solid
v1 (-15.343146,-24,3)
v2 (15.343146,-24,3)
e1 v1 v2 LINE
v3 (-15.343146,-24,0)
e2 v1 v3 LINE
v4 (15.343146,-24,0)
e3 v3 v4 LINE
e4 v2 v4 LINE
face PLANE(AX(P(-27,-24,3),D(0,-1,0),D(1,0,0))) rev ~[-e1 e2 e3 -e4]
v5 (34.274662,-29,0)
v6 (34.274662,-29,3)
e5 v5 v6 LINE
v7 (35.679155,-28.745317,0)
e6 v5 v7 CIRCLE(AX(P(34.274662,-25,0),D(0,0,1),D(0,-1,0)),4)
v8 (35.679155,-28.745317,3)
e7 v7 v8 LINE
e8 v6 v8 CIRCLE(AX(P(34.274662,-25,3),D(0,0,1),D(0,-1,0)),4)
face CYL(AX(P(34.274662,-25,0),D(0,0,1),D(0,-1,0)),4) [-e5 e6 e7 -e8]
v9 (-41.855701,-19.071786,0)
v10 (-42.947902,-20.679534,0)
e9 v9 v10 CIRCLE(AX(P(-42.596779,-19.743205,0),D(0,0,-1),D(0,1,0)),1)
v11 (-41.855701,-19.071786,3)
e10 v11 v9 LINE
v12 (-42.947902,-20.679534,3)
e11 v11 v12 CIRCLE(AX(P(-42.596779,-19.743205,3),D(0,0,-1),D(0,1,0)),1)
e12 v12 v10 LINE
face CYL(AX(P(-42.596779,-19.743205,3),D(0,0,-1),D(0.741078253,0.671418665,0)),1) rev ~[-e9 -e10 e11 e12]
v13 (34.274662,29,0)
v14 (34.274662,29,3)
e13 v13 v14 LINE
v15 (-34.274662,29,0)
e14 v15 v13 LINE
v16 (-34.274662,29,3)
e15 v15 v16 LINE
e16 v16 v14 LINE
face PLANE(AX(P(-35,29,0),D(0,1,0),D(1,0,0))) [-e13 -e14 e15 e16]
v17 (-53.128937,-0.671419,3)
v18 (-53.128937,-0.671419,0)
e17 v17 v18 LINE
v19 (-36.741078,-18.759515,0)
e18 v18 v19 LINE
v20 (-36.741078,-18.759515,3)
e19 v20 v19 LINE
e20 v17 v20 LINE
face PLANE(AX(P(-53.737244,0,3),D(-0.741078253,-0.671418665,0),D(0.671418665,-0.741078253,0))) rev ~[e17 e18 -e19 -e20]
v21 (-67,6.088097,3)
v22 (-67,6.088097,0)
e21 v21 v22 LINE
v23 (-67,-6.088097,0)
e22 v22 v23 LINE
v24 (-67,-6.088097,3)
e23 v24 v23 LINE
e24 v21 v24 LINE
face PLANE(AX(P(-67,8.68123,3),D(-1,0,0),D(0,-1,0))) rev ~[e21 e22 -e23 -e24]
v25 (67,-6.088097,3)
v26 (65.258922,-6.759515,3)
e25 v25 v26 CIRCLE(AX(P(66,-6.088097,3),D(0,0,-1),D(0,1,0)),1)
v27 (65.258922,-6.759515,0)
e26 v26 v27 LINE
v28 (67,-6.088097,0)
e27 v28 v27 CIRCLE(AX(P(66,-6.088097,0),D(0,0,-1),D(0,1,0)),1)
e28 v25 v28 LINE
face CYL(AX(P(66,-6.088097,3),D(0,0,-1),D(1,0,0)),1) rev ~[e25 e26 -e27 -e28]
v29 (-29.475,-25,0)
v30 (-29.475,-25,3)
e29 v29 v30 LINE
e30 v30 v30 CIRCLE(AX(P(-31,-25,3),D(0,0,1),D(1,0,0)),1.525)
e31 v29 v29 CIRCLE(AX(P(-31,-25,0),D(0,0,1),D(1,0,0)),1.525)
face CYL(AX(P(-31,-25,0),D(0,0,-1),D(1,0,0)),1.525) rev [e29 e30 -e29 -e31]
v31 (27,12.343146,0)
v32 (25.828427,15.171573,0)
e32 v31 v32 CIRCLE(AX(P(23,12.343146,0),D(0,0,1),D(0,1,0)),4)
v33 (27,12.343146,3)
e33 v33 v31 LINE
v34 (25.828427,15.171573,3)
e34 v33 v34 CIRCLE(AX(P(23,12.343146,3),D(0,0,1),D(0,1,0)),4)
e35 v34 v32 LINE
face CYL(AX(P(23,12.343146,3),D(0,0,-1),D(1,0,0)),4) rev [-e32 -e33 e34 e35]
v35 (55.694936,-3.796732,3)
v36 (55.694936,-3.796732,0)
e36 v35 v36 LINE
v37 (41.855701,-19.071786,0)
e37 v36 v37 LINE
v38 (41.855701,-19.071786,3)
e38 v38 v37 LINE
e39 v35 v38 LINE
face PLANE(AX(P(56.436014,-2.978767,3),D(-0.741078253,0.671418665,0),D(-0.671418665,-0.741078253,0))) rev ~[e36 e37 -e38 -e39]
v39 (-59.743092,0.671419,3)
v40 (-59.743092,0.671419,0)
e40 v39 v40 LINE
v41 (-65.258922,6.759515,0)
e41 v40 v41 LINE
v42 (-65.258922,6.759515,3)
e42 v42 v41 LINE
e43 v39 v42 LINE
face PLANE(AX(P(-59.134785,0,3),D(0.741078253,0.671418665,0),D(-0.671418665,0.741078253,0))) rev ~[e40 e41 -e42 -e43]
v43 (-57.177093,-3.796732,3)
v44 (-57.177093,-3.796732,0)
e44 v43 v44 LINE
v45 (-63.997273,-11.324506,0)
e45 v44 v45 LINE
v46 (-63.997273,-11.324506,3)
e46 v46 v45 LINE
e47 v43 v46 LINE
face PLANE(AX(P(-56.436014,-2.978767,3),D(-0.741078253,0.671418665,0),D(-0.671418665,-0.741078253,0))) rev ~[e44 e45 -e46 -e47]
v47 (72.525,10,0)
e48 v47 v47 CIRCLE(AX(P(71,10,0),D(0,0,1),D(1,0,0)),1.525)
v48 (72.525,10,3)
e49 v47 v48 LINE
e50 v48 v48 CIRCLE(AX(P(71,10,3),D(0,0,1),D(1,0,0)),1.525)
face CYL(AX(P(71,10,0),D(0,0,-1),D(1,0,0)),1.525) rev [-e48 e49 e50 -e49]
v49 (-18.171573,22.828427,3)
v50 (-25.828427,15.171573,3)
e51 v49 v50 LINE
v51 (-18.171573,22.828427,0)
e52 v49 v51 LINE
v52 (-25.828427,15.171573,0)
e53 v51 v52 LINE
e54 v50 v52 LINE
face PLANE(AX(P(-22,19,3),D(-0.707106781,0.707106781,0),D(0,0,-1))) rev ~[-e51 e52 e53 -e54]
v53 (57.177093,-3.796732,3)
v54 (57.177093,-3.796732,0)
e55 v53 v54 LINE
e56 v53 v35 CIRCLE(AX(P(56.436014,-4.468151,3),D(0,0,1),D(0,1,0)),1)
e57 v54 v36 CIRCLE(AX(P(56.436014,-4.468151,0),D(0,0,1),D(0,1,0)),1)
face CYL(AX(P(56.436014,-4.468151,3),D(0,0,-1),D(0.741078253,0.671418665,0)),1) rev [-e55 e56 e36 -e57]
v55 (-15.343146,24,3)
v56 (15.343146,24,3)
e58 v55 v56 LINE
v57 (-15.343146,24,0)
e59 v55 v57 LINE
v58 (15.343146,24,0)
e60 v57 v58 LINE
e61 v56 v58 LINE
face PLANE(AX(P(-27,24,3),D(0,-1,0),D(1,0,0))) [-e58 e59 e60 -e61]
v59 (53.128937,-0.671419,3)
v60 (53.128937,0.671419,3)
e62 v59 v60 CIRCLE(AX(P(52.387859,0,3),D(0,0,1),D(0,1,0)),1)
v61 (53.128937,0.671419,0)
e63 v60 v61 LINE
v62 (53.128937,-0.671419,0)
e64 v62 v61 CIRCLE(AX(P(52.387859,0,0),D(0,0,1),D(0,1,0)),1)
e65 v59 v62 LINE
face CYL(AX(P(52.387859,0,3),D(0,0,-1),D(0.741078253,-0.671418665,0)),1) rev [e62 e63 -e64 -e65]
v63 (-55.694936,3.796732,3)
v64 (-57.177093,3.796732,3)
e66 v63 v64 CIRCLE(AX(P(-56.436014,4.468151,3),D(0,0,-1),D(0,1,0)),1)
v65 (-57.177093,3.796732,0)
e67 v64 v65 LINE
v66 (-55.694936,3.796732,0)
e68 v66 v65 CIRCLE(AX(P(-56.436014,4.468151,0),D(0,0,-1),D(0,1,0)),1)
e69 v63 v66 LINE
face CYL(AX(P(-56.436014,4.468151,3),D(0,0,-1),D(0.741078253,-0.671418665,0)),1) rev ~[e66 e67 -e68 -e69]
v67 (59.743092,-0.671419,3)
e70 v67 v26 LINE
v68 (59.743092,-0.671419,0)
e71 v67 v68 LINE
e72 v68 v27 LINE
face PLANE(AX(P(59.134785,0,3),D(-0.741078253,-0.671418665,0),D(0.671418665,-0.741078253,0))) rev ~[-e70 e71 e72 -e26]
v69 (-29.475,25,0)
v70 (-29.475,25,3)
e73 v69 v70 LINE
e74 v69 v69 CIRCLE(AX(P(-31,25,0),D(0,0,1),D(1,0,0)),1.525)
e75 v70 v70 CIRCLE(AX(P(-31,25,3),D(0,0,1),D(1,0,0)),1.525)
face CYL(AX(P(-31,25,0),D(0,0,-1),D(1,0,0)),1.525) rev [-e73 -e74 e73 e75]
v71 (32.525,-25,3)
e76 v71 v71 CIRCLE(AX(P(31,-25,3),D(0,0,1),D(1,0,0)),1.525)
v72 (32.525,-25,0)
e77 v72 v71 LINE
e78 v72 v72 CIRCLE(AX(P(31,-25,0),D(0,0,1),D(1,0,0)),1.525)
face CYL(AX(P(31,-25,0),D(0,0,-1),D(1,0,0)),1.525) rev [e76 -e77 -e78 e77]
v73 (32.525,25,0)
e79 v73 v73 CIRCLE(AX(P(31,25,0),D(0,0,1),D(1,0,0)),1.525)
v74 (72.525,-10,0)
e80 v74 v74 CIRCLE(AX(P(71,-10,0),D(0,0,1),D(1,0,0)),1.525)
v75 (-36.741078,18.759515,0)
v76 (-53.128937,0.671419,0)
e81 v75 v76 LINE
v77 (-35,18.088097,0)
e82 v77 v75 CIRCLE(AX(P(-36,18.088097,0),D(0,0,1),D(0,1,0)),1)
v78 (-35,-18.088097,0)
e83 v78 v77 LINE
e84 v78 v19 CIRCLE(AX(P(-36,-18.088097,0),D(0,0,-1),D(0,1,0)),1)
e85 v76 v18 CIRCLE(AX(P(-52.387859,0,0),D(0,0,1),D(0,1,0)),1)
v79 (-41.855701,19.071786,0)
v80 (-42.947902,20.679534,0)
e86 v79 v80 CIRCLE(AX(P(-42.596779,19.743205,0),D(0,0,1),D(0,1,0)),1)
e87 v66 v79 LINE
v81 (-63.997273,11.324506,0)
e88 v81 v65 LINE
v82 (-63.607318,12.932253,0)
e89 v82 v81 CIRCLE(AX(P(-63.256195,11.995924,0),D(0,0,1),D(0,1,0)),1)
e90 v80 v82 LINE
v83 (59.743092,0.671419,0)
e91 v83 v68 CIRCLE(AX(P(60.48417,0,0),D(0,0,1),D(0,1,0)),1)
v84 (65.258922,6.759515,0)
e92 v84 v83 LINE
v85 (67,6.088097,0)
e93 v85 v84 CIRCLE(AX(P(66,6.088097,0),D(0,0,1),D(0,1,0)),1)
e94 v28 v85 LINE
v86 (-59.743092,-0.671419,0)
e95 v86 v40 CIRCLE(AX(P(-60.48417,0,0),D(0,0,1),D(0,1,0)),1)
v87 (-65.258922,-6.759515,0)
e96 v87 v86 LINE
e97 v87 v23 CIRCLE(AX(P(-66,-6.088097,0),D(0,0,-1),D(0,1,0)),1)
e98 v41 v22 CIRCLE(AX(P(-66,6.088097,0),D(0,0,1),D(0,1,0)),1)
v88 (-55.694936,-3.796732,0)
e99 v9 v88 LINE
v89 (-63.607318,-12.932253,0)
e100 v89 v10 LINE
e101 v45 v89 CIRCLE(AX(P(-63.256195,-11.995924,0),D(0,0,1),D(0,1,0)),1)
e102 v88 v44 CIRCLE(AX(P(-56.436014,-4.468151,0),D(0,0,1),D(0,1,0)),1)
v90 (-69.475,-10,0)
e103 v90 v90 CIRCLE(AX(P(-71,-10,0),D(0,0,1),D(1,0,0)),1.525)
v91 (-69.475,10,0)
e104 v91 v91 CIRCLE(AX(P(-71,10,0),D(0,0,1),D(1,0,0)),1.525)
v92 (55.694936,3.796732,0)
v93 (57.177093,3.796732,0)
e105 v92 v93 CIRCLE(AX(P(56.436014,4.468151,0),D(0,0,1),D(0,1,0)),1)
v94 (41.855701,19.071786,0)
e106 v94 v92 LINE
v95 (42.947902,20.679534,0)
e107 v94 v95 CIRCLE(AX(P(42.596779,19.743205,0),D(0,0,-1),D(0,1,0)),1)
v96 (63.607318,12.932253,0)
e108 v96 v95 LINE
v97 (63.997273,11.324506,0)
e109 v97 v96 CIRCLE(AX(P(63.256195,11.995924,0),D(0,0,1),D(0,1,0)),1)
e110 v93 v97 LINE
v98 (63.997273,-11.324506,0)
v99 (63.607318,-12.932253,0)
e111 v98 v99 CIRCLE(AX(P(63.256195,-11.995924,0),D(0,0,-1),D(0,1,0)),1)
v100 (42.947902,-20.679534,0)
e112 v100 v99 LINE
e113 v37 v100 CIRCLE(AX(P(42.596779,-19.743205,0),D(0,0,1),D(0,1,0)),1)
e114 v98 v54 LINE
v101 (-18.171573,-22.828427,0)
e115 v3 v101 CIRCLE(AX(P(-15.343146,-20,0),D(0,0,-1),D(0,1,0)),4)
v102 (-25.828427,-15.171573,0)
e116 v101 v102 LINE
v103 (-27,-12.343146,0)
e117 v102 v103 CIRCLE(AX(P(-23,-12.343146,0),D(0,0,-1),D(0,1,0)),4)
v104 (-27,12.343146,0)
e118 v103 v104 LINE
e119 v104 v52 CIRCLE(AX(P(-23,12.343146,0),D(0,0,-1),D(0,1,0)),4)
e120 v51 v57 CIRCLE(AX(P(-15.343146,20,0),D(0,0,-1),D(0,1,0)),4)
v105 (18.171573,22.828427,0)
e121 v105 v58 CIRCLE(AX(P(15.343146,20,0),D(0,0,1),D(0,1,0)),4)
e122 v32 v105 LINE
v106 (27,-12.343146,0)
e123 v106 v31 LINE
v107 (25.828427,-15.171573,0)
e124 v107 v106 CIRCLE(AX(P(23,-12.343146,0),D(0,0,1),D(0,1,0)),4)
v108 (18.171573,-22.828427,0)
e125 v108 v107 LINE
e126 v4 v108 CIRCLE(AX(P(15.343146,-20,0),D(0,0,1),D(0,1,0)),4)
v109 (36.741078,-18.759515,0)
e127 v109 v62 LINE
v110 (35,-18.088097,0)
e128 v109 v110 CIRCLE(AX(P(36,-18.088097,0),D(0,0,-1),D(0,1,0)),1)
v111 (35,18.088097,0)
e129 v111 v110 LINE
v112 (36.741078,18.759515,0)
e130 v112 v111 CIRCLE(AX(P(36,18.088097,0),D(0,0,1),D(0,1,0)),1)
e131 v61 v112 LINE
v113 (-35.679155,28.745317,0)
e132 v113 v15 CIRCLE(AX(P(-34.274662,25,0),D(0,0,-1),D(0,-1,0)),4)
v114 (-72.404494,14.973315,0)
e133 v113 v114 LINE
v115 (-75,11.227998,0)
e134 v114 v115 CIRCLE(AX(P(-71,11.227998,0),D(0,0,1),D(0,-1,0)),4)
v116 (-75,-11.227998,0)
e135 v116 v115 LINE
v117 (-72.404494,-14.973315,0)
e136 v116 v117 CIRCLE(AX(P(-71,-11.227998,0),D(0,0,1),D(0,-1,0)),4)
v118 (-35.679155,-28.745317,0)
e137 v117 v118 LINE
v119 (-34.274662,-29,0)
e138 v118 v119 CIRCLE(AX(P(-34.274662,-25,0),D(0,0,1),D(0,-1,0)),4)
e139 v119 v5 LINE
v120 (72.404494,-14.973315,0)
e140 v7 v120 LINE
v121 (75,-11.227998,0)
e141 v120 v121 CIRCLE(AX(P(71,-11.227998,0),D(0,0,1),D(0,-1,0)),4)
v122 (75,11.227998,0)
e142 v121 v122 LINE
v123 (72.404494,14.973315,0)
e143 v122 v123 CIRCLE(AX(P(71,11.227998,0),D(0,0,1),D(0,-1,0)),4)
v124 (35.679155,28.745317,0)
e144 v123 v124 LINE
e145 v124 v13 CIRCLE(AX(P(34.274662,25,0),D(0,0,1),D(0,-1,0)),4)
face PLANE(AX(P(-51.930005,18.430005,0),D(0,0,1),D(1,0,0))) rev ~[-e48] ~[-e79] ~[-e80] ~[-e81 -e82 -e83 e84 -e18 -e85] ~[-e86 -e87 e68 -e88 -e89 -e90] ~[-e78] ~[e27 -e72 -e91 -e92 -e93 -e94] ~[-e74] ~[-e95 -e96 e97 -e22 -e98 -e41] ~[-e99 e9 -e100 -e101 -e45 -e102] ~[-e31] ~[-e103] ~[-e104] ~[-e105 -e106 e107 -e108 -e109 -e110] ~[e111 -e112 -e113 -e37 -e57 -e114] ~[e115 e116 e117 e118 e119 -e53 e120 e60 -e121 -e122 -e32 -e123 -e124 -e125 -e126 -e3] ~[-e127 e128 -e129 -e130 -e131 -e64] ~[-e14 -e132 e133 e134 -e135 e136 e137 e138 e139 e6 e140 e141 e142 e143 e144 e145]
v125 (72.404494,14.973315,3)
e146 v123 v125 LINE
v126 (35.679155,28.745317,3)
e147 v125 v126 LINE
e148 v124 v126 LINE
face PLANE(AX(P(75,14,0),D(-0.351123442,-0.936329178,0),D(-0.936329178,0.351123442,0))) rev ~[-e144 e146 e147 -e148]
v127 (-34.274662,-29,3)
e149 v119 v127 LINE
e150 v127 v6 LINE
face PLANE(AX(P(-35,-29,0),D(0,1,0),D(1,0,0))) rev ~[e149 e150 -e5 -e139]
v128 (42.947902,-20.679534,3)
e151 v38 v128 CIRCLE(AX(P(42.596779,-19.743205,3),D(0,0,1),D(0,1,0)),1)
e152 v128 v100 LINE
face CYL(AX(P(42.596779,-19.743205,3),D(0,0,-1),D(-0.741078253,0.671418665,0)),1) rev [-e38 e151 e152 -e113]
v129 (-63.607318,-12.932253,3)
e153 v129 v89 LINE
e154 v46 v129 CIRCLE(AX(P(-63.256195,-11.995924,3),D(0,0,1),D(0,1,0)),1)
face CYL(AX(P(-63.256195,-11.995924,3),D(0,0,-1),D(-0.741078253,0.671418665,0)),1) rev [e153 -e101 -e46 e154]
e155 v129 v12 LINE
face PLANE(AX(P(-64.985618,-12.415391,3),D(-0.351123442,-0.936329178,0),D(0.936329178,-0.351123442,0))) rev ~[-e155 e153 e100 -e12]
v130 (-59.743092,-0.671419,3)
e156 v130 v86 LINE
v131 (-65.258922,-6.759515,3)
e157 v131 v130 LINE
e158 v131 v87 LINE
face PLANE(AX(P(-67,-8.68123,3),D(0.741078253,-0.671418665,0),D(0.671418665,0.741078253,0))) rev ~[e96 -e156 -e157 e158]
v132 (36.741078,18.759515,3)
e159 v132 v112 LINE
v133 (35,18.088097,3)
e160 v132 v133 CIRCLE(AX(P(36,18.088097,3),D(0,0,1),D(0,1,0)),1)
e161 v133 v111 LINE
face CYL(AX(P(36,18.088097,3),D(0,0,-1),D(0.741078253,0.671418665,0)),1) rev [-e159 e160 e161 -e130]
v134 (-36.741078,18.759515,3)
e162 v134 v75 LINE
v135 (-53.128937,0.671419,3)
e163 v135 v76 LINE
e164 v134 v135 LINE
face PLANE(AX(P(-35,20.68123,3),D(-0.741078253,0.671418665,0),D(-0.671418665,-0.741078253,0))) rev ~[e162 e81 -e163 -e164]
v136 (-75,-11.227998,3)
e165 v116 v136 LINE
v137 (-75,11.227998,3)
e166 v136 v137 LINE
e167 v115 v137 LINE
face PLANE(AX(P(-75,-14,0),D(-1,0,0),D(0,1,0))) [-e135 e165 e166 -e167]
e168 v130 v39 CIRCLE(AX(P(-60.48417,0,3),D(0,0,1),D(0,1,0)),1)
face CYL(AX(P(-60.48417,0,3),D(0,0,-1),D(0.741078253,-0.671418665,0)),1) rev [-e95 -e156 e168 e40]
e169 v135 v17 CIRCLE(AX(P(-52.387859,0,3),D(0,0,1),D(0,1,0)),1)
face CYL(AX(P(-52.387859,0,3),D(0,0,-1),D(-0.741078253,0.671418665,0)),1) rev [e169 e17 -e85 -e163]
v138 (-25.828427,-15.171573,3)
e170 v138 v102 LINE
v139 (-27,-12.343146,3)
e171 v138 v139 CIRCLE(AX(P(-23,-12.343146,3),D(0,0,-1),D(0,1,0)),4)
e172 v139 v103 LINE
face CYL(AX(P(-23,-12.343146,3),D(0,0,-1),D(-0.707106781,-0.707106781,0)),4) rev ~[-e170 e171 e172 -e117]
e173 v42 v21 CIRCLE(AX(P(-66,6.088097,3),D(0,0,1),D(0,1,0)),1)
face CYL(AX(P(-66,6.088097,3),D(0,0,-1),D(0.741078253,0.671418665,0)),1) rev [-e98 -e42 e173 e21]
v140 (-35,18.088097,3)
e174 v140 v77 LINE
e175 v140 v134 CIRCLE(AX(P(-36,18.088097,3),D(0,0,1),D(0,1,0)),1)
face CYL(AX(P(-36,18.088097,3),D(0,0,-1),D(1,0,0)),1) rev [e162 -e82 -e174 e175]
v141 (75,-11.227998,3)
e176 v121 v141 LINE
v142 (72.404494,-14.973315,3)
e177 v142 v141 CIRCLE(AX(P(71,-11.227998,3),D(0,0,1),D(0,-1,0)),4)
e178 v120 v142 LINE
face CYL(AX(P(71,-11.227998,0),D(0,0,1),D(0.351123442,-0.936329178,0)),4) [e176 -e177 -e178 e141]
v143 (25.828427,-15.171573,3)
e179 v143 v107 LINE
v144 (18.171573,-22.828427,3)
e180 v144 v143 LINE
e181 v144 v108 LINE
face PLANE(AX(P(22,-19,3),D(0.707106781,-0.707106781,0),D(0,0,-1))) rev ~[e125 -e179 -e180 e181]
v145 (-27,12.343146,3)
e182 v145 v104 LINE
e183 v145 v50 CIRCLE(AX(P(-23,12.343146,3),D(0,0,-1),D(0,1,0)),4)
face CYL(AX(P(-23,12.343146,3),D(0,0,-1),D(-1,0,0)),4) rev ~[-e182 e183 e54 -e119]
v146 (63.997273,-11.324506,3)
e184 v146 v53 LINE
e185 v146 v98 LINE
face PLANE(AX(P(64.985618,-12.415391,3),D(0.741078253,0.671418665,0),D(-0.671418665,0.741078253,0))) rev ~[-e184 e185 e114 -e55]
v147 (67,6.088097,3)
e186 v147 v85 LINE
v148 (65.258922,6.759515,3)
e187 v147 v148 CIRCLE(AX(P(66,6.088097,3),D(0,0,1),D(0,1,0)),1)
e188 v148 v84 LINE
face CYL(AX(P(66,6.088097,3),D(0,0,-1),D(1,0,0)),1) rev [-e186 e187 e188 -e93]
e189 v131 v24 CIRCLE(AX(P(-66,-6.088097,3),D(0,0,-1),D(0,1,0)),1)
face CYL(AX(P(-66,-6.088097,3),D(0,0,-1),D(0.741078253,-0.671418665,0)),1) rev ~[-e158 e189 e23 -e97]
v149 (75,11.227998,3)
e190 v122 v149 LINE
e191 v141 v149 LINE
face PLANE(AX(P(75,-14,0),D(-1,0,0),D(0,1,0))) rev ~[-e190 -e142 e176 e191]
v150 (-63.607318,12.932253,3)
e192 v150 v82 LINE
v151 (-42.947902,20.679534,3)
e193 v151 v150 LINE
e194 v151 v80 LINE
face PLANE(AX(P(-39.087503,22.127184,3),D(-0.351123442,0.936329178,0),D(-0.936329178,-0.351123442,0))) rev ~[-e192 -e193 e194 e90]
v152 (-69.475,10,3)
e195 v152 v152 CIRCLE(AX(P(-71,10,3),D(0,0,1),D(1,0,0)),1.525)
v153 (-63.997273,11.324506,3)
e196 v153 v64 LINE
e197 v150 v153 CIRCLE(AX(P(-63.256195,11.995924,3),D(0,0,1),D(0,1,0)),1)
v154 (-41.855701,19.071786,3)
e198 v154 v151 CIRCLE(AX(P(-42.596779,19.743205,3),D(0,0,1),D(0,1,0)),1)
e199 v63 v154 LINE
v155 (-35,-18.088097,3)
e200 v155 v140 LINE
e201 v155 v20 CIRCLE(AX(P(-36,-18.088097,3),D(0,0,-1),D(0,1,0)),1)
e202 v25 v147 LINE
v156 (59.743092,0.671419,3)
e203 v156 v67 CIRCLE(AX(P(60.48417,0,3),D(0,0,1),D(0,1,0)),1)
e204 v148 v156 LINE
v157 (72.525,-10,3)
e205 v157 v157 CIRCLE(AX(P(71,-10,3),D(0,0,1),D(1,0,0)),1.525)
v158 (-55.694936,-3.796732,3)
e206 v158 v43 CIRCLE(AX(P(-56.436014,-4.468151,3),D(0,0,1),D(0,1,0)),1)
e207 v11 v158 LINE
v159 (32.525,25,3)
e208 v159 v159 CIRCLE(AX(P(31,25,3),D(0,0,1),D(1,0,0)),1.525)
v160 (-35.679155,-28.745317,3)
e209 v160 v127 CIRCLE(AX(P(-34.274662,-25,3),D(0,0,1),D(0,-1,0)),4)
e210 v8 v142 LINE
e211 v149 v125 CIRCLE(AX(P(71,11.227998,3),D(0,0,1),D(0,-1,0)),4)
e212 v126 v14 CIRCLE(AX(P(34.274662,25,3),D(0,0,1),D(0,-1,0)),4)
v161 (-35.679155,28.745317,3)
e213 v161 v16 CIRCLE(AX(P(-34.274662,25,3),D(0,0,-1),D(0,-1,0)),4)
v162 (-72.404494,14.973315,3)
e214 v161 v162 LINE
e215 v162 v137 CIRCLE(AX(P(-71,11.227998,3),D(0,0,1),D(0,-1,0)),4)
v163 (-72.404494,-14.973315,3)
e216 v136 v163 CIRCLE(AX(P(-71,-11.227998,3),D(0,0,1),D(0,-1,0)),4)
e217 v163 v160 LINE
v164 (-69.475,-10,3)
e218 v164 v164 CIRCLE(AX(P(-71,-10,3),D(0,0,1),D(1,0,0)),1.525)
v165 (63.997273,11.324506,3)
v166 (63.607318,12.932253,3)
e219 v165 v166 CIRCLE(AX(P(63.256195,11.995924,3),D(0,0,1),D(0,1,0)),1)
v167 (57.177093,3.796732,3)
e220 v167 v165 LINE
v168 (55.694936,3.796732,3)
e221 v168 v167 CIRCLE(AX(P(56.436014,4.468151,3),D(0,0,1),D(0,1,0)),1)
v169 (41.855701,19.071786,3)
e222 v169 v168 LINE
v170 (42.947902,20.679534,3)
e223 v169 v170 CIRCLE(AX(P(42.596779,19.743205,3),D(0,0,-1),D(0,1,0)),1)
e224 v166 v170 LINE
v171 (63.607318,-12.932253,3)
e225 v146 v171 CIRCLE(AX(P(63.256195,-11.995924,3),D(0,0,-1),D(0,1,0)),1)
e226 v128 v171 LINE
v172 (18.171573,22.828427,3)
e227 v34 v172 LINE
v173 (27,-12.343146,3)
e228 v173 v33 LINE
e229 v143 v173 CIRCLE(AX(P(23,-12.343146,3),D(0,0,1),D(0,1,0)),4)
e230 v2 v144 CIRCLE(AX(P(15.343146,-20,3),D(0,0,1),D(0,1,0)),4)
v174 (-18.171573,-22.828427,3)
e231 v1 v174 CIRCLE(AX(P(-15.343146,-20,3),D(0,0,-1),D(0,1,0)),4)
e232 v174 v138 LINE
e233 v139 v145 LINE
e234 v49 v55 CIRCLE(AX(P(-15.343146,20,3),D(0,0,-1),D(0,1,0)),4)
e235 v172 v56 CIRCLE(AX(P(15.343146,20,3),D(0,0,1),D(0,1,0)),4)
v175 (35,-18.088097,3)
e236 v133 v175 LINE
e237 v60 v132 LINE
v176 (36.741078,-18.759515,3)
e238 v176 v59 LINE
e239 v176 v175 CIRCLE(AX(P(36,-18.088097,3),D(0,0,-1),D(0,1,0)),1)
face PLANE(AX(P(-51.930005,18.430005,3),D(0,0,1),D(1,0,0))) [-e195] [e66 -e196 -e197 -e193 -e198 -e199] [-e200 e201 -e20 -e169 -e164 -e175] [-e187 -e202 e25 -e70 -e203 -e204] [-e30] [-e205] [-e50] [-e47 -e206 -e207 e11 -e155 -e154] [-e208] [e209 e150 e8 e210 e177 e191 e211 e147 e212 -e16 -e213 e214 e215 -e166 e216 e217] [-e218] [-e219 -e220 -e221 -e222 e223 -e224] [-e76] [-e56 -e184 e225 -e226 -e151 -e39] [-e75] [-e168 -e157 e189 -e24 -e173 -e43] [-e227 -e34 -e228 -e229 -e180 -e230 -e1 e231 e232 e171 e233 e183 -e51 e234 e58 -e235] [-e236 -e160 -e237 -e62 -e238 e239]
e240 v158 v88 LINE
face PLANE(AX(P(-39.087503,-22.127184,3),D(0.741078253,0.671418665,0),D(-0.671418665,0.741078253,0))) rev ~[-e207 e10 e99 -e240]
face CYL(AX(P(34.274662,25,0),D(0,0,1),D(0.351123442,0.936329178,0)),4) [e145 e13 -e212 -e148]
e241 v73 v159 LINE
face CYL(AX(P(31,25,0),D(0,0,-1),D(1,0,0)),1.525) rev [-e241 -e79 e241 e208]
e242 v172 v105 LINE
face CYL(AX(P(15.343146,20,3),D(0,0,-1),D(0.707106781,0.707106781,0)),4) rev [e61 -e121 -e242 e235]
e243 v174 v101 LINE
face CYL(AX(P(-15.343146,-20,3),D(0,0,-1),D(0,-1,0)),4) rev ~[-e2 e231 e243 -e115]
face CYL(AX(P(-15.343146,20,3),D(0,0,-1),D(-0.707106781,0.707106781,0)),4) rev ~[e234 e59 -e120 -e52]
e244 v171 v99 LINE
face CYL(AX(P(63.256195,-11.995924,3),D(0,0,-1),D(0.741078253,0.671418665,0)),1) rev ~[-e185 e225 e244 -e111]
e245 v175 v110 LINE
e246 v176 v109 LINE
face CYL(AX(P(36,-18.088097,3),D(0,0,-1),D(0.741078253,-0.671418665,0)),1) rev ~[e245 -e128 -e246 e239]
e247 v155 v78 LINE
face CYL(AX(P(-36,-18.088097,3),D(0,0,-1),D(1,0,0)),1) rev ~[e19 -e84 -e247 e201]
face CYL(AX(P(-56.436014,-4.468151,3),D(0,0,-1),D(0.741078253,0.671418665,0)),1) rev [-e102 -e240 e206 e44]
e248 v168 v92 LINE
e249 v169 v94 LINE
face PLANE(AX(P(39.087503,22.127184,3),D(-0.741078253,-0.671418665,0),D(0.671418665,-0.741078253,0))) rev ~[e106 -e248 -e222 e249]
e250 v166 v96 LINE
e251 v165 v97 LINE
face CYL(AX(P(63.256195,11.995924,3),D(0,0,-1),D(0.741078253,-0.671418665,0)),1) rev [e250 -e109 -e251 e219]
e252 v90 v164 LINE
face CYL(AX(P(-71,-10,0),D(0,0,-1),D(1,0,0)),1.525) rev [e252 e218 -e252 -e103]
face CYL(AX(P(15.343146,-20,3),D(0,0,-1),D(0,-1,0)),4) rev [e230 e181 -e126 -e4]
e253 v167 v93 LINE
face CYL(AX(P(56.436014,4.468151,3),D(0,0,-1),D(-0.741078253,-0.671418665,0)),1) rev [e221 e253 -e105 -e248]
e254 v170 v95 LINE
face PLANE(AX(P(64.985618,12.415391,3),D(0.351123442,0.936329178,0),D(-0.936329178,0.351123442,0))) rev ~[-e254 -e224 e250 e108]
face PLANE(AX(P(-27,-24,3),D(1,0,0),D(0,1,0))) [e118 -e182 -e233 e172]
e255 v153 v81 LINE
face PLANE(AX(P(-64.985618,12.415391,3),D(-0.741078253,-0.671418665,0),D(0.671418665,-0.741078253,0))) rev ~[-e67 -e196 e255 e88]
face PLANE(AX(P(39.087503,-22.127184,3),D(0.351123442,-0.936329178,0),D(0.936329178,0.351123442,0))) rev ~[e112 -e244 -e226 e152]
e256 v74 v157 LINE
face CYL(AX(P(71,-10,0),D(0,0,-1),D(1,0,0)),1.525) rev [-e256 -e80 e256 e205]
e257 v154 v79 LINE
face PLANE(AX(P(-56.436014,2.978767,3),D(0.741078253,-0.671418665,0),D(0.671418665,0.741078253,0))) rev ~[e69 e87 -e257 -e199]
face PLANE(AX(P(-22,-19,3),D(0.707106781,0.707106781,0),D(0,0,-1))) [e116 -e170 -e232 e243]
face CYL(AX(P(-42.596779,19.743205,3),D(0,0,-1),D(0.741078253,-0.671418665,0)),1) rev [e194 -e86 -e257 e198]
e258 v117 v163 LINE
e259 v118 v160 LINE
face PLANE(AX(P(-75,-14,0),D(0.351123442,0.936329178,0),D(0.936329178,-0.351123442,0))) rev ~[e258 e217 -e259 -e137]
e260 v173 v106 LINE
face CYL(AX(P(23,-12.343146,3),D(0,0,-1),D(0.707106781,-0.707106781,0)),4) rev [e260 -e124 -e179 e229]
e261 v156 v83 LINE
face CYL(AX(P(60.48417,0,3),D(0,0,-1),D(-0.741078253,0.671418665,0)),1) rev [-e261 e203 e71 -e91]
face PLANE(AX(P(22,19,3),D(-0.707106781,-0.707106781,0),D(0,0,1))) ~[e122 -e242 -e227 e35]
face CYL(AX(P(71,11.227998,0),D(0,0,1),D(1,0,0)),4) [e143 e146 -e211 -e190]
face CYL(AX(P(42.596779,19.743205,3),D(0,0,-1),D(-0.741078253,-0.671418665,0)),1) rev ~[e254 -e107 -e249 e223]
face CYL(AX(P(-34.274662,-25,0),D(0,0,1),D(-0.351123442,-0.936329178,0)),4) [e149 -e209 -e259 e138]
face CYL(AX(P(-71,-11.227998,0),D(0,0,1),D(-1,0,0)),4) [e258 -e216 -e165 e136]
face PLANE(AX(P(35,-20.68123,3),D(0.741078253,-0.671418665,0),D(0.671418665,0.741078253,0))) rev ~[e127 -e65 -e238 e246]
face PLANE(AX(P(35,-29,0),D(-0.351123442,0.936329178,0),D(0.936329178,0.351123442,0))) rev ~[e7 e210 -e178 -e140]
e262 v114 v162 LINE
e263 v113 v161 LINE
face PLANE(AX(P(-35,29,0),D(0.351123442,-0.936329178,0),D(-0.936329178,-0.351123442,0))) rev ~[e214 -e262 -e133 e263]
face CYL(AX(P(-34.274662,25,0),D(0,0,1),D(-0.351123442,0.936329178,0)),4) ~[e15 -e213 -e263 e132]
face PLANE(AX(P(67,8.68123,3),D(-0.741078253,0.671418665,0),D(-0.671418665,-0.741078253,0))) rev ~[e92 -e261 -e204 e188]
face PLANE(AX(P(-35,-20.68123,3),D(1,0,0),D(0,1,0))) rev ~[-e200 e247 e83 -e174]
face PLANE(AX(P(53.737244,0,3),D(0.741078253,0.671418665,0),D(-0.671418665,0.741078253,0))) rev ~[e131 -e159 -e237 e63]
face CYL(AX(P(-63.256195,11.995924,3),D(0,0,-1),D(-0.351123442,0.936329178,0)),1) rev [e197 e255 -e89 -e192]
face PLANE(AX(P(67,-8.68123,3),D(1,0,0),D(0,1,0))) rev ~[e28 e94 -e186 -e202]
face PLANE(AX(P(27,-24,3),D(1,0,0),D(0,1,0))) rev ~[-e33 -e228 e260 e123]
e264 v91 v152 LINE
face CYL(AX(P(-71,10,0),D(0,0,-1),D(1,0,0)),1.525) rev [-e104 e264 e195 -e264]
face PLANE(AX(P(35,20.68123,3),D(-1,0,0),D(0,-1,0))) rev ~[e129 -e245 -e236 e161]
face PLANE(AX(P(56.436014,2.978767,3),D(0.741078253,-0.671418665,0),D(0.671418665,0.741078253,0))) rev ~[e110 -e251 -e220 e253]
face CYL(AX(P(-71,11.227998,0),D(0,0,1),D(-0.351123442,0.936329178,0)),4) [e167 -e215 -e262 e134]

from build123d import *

# Parameters (mm, degrees)
SKETCH_1_W          = 40
SKETCH_1_H          = 28
SKETCH_1_R          = 1.525
SKETCH_1_W_2        = 70
SKETCH_1_H_2        = 15
EXTRUDE_1_DEPTH     = 3
FILLET_1_R          = 4
SKETCH_2_W          = 54
SKETCH_2_H          = 48
CUT_EXTRUDE_1_DEPTH = 3
CHAMFER_1_SIZE      = 10
FILLET_2_R          = 4
FILLET_3_R          = 1


with BuildPart() as part:
    # 草图1 → 凸台-拉伸1 (new body)
    with BuildSketch(Plane.XY):
        Polygon((-35, 29), (-75, 14), (-35, 14), align=None)
        with Locations((-55, 0)):
            Rectangle(SKETCH_1_W, SKETCH_1_H)
        with Locations((-71, -10)):
            Circle(SKETCH_1_R, mode=Mode.SUBTRACT)
        with Locations((-71, 10)):
            Circle(SKETCH_1_R, mode=Mode.SUBTRACT)
        Polygon((-35, -14), (-75, -14), (-35, -29), align=None)
        with Locations((0, -21.5)):
            Rectangle(SKETCH_1_W_2, SKETCH_1_H_2)
        with Locations((-31, -25)):
            Circle(SKETCH_1_R, mode=Mode.SUBTRACT)
        with Locations((31, -25)):
            Circle(SKETCH_1_R, mode=Mode.SUBTRACT)
        Rectangle(SKETCH_1_W_2, SKETCH_1_H)
        with Locations((0, 21.5)):
            Rectangle(SKETCH_1_W_2, SKETCH_1_H_2)
        with Locations((-31, 25)):
            Circle(SKETCH_1_R, mode=Mode.SUBTRACT)
        with Locations((31, 25)):
            Circle(SKETCH_1_R, mode=Mode.SUBTRACT)
        Polygon((75, 14), (35, 29), (35, 14), align=None)
        with Locations((55, 0)):
            Rectangle(SKETCH_1_W, SKETCH_1_H)
        with Locations((71, -10)):
            Circle(SKETCH_1_R, mode=Mode.SUBTRACT)
        with Locations((71, 10)):
            Circle(SKETCH_1_R, mode=Mode.SUBTRACT)
        Polygon((75, -14), (35, -14), (35, -29), align=None)
    extrude(amount=EXTRUDE_1_DEPTH)

    # 圆角1
    fillet_1_edges = [part.edges().sort_by_distance(p)[0] for p in [
        (-35, 29, 1.5),
        (35, 29, 1.5),
        (75, 14, 1.5),
        (75, -14, 1.5),
        (35, -29, 1.5),
        (-35, -29, 1.5),
        (-75, -14, 1.5),
        (-75, 14, 1.5),
    ]]
    fillet(fillet_1_edges, radius=FILLET_1_R)

    # 草图2 → 切除-拉伸1 (cut)
    with BuildSketch(Plane.XY.offset(3)):
        Polygon((-56.436014311, 2.978767355), (-39.087503195, 22.127183961), (-64.985617819, 12.415390977), align=None)
        Polygon((-35, -20.681230304), (-35, 20.681230304), (-53.737243982, 0), align=None)
        Polygon((-39.087503195, -22.127183961), (-56.436014311, -2.978767355), (-64.985617819, -12.415390977), align=None)
        Polygon((-67, -8.681230304), (-59.134784639, 0), (-67, 8.681230304), align=None)
        Rectangle(SKETCH_2_W, SKETCH_2_H)
        Polygon((35, -20.681230304), (53.737243982, 0), (35, 20.681230304), align=None)
        Polygon((39.087503195, 22.127183961), (56.436014311, 2.978767355), (64.985617819, 12.415390977), align=None)
        Polygon((67, -8.681230304), (67, 8.681230304), (59.134784639, 0), align=None)
        Polygon((64.985617819, -12.415390977), (56.436014311, -2.978767355), (39.087503195, -22.127183961), align=None)
    extrude(amount=-CUT_EXTRUDE_1_DEPTH, mode=Mode.SUBTRACT)

    # 倒角1
    chamfer_1_edges = [part.edges().sort_by_distance(p)[0] for p in [
        (-27, -24, 1.5),
        (-27, 24, 1.5),
        (27, 24, 1.5),
        (27, -24, 1.5),
    ]]
    chamfer(chamfer_1_edges, length=CHAMFER_1_SIZE)

    # 圆角2
    fillet_2_edges = [part.edges().sort_by_distance(p)[0] for p in [
        (17, -24, 1.5),
        (-17, -24, 1.5),
        (-27, 14, 1.5),
        (-27, -14, 1.5),
        (27, 14, 1.5),
        (27, -14, 1.5),
        (-17, 24, 1.5),
        (17, 24, 1.5),
    ]]
    fillet(fillet_2_edges, radius=FILLET_2_R)

    # 圆角3
    fillet_3_edges = [part.edges().sort_by_distance(p)[0] for p in [
        (39.087503195, 22.127183961, 1.5),
        (64.985617819, 12.415390977, 1.5),
        (56.436014311, 2.978767355, 1.5),
        (35, -20.681230304, 1.5),
        (35, 20.681230304, 1.5),
        (53.737243982, 0, 1.5),
        (64.985617819, -12.415390977, 1.5),
        (39.087503195, -22.127183961, 1.5),
        (56.436014311, -2.978767355, 1.5),
        (67, 8.681230304, 1.5),
        (67, -8.681230304, 1.5),
        (59.134784639, 0, 1.5),
        (-56.436014311, -2.978767355, 1.5),
        (-39.087503195, -22.127183961, 1.5),
        (-64.985617819, -12.415390977, 1.5),
        (-53.737243982, 0, 1.5),
        (-35, 20.681230304, 1.5),
        (-35, -20.681230304, 1.5),
        (-67, 8.681230304, 1.5),
        (-59.134784639, 0, 1.5),
        (-67, -8.681230304, 1.5),
        (-64.985617819, 12.415390977, 1.5),
        (-39.087503195, 22.127183961, 1.5),
        (-56.436014311, 2.978767355, 1.5),
    ]]
    fillet(fillet_3_edges, radius=FILLET_3_R)


solid = part.part
